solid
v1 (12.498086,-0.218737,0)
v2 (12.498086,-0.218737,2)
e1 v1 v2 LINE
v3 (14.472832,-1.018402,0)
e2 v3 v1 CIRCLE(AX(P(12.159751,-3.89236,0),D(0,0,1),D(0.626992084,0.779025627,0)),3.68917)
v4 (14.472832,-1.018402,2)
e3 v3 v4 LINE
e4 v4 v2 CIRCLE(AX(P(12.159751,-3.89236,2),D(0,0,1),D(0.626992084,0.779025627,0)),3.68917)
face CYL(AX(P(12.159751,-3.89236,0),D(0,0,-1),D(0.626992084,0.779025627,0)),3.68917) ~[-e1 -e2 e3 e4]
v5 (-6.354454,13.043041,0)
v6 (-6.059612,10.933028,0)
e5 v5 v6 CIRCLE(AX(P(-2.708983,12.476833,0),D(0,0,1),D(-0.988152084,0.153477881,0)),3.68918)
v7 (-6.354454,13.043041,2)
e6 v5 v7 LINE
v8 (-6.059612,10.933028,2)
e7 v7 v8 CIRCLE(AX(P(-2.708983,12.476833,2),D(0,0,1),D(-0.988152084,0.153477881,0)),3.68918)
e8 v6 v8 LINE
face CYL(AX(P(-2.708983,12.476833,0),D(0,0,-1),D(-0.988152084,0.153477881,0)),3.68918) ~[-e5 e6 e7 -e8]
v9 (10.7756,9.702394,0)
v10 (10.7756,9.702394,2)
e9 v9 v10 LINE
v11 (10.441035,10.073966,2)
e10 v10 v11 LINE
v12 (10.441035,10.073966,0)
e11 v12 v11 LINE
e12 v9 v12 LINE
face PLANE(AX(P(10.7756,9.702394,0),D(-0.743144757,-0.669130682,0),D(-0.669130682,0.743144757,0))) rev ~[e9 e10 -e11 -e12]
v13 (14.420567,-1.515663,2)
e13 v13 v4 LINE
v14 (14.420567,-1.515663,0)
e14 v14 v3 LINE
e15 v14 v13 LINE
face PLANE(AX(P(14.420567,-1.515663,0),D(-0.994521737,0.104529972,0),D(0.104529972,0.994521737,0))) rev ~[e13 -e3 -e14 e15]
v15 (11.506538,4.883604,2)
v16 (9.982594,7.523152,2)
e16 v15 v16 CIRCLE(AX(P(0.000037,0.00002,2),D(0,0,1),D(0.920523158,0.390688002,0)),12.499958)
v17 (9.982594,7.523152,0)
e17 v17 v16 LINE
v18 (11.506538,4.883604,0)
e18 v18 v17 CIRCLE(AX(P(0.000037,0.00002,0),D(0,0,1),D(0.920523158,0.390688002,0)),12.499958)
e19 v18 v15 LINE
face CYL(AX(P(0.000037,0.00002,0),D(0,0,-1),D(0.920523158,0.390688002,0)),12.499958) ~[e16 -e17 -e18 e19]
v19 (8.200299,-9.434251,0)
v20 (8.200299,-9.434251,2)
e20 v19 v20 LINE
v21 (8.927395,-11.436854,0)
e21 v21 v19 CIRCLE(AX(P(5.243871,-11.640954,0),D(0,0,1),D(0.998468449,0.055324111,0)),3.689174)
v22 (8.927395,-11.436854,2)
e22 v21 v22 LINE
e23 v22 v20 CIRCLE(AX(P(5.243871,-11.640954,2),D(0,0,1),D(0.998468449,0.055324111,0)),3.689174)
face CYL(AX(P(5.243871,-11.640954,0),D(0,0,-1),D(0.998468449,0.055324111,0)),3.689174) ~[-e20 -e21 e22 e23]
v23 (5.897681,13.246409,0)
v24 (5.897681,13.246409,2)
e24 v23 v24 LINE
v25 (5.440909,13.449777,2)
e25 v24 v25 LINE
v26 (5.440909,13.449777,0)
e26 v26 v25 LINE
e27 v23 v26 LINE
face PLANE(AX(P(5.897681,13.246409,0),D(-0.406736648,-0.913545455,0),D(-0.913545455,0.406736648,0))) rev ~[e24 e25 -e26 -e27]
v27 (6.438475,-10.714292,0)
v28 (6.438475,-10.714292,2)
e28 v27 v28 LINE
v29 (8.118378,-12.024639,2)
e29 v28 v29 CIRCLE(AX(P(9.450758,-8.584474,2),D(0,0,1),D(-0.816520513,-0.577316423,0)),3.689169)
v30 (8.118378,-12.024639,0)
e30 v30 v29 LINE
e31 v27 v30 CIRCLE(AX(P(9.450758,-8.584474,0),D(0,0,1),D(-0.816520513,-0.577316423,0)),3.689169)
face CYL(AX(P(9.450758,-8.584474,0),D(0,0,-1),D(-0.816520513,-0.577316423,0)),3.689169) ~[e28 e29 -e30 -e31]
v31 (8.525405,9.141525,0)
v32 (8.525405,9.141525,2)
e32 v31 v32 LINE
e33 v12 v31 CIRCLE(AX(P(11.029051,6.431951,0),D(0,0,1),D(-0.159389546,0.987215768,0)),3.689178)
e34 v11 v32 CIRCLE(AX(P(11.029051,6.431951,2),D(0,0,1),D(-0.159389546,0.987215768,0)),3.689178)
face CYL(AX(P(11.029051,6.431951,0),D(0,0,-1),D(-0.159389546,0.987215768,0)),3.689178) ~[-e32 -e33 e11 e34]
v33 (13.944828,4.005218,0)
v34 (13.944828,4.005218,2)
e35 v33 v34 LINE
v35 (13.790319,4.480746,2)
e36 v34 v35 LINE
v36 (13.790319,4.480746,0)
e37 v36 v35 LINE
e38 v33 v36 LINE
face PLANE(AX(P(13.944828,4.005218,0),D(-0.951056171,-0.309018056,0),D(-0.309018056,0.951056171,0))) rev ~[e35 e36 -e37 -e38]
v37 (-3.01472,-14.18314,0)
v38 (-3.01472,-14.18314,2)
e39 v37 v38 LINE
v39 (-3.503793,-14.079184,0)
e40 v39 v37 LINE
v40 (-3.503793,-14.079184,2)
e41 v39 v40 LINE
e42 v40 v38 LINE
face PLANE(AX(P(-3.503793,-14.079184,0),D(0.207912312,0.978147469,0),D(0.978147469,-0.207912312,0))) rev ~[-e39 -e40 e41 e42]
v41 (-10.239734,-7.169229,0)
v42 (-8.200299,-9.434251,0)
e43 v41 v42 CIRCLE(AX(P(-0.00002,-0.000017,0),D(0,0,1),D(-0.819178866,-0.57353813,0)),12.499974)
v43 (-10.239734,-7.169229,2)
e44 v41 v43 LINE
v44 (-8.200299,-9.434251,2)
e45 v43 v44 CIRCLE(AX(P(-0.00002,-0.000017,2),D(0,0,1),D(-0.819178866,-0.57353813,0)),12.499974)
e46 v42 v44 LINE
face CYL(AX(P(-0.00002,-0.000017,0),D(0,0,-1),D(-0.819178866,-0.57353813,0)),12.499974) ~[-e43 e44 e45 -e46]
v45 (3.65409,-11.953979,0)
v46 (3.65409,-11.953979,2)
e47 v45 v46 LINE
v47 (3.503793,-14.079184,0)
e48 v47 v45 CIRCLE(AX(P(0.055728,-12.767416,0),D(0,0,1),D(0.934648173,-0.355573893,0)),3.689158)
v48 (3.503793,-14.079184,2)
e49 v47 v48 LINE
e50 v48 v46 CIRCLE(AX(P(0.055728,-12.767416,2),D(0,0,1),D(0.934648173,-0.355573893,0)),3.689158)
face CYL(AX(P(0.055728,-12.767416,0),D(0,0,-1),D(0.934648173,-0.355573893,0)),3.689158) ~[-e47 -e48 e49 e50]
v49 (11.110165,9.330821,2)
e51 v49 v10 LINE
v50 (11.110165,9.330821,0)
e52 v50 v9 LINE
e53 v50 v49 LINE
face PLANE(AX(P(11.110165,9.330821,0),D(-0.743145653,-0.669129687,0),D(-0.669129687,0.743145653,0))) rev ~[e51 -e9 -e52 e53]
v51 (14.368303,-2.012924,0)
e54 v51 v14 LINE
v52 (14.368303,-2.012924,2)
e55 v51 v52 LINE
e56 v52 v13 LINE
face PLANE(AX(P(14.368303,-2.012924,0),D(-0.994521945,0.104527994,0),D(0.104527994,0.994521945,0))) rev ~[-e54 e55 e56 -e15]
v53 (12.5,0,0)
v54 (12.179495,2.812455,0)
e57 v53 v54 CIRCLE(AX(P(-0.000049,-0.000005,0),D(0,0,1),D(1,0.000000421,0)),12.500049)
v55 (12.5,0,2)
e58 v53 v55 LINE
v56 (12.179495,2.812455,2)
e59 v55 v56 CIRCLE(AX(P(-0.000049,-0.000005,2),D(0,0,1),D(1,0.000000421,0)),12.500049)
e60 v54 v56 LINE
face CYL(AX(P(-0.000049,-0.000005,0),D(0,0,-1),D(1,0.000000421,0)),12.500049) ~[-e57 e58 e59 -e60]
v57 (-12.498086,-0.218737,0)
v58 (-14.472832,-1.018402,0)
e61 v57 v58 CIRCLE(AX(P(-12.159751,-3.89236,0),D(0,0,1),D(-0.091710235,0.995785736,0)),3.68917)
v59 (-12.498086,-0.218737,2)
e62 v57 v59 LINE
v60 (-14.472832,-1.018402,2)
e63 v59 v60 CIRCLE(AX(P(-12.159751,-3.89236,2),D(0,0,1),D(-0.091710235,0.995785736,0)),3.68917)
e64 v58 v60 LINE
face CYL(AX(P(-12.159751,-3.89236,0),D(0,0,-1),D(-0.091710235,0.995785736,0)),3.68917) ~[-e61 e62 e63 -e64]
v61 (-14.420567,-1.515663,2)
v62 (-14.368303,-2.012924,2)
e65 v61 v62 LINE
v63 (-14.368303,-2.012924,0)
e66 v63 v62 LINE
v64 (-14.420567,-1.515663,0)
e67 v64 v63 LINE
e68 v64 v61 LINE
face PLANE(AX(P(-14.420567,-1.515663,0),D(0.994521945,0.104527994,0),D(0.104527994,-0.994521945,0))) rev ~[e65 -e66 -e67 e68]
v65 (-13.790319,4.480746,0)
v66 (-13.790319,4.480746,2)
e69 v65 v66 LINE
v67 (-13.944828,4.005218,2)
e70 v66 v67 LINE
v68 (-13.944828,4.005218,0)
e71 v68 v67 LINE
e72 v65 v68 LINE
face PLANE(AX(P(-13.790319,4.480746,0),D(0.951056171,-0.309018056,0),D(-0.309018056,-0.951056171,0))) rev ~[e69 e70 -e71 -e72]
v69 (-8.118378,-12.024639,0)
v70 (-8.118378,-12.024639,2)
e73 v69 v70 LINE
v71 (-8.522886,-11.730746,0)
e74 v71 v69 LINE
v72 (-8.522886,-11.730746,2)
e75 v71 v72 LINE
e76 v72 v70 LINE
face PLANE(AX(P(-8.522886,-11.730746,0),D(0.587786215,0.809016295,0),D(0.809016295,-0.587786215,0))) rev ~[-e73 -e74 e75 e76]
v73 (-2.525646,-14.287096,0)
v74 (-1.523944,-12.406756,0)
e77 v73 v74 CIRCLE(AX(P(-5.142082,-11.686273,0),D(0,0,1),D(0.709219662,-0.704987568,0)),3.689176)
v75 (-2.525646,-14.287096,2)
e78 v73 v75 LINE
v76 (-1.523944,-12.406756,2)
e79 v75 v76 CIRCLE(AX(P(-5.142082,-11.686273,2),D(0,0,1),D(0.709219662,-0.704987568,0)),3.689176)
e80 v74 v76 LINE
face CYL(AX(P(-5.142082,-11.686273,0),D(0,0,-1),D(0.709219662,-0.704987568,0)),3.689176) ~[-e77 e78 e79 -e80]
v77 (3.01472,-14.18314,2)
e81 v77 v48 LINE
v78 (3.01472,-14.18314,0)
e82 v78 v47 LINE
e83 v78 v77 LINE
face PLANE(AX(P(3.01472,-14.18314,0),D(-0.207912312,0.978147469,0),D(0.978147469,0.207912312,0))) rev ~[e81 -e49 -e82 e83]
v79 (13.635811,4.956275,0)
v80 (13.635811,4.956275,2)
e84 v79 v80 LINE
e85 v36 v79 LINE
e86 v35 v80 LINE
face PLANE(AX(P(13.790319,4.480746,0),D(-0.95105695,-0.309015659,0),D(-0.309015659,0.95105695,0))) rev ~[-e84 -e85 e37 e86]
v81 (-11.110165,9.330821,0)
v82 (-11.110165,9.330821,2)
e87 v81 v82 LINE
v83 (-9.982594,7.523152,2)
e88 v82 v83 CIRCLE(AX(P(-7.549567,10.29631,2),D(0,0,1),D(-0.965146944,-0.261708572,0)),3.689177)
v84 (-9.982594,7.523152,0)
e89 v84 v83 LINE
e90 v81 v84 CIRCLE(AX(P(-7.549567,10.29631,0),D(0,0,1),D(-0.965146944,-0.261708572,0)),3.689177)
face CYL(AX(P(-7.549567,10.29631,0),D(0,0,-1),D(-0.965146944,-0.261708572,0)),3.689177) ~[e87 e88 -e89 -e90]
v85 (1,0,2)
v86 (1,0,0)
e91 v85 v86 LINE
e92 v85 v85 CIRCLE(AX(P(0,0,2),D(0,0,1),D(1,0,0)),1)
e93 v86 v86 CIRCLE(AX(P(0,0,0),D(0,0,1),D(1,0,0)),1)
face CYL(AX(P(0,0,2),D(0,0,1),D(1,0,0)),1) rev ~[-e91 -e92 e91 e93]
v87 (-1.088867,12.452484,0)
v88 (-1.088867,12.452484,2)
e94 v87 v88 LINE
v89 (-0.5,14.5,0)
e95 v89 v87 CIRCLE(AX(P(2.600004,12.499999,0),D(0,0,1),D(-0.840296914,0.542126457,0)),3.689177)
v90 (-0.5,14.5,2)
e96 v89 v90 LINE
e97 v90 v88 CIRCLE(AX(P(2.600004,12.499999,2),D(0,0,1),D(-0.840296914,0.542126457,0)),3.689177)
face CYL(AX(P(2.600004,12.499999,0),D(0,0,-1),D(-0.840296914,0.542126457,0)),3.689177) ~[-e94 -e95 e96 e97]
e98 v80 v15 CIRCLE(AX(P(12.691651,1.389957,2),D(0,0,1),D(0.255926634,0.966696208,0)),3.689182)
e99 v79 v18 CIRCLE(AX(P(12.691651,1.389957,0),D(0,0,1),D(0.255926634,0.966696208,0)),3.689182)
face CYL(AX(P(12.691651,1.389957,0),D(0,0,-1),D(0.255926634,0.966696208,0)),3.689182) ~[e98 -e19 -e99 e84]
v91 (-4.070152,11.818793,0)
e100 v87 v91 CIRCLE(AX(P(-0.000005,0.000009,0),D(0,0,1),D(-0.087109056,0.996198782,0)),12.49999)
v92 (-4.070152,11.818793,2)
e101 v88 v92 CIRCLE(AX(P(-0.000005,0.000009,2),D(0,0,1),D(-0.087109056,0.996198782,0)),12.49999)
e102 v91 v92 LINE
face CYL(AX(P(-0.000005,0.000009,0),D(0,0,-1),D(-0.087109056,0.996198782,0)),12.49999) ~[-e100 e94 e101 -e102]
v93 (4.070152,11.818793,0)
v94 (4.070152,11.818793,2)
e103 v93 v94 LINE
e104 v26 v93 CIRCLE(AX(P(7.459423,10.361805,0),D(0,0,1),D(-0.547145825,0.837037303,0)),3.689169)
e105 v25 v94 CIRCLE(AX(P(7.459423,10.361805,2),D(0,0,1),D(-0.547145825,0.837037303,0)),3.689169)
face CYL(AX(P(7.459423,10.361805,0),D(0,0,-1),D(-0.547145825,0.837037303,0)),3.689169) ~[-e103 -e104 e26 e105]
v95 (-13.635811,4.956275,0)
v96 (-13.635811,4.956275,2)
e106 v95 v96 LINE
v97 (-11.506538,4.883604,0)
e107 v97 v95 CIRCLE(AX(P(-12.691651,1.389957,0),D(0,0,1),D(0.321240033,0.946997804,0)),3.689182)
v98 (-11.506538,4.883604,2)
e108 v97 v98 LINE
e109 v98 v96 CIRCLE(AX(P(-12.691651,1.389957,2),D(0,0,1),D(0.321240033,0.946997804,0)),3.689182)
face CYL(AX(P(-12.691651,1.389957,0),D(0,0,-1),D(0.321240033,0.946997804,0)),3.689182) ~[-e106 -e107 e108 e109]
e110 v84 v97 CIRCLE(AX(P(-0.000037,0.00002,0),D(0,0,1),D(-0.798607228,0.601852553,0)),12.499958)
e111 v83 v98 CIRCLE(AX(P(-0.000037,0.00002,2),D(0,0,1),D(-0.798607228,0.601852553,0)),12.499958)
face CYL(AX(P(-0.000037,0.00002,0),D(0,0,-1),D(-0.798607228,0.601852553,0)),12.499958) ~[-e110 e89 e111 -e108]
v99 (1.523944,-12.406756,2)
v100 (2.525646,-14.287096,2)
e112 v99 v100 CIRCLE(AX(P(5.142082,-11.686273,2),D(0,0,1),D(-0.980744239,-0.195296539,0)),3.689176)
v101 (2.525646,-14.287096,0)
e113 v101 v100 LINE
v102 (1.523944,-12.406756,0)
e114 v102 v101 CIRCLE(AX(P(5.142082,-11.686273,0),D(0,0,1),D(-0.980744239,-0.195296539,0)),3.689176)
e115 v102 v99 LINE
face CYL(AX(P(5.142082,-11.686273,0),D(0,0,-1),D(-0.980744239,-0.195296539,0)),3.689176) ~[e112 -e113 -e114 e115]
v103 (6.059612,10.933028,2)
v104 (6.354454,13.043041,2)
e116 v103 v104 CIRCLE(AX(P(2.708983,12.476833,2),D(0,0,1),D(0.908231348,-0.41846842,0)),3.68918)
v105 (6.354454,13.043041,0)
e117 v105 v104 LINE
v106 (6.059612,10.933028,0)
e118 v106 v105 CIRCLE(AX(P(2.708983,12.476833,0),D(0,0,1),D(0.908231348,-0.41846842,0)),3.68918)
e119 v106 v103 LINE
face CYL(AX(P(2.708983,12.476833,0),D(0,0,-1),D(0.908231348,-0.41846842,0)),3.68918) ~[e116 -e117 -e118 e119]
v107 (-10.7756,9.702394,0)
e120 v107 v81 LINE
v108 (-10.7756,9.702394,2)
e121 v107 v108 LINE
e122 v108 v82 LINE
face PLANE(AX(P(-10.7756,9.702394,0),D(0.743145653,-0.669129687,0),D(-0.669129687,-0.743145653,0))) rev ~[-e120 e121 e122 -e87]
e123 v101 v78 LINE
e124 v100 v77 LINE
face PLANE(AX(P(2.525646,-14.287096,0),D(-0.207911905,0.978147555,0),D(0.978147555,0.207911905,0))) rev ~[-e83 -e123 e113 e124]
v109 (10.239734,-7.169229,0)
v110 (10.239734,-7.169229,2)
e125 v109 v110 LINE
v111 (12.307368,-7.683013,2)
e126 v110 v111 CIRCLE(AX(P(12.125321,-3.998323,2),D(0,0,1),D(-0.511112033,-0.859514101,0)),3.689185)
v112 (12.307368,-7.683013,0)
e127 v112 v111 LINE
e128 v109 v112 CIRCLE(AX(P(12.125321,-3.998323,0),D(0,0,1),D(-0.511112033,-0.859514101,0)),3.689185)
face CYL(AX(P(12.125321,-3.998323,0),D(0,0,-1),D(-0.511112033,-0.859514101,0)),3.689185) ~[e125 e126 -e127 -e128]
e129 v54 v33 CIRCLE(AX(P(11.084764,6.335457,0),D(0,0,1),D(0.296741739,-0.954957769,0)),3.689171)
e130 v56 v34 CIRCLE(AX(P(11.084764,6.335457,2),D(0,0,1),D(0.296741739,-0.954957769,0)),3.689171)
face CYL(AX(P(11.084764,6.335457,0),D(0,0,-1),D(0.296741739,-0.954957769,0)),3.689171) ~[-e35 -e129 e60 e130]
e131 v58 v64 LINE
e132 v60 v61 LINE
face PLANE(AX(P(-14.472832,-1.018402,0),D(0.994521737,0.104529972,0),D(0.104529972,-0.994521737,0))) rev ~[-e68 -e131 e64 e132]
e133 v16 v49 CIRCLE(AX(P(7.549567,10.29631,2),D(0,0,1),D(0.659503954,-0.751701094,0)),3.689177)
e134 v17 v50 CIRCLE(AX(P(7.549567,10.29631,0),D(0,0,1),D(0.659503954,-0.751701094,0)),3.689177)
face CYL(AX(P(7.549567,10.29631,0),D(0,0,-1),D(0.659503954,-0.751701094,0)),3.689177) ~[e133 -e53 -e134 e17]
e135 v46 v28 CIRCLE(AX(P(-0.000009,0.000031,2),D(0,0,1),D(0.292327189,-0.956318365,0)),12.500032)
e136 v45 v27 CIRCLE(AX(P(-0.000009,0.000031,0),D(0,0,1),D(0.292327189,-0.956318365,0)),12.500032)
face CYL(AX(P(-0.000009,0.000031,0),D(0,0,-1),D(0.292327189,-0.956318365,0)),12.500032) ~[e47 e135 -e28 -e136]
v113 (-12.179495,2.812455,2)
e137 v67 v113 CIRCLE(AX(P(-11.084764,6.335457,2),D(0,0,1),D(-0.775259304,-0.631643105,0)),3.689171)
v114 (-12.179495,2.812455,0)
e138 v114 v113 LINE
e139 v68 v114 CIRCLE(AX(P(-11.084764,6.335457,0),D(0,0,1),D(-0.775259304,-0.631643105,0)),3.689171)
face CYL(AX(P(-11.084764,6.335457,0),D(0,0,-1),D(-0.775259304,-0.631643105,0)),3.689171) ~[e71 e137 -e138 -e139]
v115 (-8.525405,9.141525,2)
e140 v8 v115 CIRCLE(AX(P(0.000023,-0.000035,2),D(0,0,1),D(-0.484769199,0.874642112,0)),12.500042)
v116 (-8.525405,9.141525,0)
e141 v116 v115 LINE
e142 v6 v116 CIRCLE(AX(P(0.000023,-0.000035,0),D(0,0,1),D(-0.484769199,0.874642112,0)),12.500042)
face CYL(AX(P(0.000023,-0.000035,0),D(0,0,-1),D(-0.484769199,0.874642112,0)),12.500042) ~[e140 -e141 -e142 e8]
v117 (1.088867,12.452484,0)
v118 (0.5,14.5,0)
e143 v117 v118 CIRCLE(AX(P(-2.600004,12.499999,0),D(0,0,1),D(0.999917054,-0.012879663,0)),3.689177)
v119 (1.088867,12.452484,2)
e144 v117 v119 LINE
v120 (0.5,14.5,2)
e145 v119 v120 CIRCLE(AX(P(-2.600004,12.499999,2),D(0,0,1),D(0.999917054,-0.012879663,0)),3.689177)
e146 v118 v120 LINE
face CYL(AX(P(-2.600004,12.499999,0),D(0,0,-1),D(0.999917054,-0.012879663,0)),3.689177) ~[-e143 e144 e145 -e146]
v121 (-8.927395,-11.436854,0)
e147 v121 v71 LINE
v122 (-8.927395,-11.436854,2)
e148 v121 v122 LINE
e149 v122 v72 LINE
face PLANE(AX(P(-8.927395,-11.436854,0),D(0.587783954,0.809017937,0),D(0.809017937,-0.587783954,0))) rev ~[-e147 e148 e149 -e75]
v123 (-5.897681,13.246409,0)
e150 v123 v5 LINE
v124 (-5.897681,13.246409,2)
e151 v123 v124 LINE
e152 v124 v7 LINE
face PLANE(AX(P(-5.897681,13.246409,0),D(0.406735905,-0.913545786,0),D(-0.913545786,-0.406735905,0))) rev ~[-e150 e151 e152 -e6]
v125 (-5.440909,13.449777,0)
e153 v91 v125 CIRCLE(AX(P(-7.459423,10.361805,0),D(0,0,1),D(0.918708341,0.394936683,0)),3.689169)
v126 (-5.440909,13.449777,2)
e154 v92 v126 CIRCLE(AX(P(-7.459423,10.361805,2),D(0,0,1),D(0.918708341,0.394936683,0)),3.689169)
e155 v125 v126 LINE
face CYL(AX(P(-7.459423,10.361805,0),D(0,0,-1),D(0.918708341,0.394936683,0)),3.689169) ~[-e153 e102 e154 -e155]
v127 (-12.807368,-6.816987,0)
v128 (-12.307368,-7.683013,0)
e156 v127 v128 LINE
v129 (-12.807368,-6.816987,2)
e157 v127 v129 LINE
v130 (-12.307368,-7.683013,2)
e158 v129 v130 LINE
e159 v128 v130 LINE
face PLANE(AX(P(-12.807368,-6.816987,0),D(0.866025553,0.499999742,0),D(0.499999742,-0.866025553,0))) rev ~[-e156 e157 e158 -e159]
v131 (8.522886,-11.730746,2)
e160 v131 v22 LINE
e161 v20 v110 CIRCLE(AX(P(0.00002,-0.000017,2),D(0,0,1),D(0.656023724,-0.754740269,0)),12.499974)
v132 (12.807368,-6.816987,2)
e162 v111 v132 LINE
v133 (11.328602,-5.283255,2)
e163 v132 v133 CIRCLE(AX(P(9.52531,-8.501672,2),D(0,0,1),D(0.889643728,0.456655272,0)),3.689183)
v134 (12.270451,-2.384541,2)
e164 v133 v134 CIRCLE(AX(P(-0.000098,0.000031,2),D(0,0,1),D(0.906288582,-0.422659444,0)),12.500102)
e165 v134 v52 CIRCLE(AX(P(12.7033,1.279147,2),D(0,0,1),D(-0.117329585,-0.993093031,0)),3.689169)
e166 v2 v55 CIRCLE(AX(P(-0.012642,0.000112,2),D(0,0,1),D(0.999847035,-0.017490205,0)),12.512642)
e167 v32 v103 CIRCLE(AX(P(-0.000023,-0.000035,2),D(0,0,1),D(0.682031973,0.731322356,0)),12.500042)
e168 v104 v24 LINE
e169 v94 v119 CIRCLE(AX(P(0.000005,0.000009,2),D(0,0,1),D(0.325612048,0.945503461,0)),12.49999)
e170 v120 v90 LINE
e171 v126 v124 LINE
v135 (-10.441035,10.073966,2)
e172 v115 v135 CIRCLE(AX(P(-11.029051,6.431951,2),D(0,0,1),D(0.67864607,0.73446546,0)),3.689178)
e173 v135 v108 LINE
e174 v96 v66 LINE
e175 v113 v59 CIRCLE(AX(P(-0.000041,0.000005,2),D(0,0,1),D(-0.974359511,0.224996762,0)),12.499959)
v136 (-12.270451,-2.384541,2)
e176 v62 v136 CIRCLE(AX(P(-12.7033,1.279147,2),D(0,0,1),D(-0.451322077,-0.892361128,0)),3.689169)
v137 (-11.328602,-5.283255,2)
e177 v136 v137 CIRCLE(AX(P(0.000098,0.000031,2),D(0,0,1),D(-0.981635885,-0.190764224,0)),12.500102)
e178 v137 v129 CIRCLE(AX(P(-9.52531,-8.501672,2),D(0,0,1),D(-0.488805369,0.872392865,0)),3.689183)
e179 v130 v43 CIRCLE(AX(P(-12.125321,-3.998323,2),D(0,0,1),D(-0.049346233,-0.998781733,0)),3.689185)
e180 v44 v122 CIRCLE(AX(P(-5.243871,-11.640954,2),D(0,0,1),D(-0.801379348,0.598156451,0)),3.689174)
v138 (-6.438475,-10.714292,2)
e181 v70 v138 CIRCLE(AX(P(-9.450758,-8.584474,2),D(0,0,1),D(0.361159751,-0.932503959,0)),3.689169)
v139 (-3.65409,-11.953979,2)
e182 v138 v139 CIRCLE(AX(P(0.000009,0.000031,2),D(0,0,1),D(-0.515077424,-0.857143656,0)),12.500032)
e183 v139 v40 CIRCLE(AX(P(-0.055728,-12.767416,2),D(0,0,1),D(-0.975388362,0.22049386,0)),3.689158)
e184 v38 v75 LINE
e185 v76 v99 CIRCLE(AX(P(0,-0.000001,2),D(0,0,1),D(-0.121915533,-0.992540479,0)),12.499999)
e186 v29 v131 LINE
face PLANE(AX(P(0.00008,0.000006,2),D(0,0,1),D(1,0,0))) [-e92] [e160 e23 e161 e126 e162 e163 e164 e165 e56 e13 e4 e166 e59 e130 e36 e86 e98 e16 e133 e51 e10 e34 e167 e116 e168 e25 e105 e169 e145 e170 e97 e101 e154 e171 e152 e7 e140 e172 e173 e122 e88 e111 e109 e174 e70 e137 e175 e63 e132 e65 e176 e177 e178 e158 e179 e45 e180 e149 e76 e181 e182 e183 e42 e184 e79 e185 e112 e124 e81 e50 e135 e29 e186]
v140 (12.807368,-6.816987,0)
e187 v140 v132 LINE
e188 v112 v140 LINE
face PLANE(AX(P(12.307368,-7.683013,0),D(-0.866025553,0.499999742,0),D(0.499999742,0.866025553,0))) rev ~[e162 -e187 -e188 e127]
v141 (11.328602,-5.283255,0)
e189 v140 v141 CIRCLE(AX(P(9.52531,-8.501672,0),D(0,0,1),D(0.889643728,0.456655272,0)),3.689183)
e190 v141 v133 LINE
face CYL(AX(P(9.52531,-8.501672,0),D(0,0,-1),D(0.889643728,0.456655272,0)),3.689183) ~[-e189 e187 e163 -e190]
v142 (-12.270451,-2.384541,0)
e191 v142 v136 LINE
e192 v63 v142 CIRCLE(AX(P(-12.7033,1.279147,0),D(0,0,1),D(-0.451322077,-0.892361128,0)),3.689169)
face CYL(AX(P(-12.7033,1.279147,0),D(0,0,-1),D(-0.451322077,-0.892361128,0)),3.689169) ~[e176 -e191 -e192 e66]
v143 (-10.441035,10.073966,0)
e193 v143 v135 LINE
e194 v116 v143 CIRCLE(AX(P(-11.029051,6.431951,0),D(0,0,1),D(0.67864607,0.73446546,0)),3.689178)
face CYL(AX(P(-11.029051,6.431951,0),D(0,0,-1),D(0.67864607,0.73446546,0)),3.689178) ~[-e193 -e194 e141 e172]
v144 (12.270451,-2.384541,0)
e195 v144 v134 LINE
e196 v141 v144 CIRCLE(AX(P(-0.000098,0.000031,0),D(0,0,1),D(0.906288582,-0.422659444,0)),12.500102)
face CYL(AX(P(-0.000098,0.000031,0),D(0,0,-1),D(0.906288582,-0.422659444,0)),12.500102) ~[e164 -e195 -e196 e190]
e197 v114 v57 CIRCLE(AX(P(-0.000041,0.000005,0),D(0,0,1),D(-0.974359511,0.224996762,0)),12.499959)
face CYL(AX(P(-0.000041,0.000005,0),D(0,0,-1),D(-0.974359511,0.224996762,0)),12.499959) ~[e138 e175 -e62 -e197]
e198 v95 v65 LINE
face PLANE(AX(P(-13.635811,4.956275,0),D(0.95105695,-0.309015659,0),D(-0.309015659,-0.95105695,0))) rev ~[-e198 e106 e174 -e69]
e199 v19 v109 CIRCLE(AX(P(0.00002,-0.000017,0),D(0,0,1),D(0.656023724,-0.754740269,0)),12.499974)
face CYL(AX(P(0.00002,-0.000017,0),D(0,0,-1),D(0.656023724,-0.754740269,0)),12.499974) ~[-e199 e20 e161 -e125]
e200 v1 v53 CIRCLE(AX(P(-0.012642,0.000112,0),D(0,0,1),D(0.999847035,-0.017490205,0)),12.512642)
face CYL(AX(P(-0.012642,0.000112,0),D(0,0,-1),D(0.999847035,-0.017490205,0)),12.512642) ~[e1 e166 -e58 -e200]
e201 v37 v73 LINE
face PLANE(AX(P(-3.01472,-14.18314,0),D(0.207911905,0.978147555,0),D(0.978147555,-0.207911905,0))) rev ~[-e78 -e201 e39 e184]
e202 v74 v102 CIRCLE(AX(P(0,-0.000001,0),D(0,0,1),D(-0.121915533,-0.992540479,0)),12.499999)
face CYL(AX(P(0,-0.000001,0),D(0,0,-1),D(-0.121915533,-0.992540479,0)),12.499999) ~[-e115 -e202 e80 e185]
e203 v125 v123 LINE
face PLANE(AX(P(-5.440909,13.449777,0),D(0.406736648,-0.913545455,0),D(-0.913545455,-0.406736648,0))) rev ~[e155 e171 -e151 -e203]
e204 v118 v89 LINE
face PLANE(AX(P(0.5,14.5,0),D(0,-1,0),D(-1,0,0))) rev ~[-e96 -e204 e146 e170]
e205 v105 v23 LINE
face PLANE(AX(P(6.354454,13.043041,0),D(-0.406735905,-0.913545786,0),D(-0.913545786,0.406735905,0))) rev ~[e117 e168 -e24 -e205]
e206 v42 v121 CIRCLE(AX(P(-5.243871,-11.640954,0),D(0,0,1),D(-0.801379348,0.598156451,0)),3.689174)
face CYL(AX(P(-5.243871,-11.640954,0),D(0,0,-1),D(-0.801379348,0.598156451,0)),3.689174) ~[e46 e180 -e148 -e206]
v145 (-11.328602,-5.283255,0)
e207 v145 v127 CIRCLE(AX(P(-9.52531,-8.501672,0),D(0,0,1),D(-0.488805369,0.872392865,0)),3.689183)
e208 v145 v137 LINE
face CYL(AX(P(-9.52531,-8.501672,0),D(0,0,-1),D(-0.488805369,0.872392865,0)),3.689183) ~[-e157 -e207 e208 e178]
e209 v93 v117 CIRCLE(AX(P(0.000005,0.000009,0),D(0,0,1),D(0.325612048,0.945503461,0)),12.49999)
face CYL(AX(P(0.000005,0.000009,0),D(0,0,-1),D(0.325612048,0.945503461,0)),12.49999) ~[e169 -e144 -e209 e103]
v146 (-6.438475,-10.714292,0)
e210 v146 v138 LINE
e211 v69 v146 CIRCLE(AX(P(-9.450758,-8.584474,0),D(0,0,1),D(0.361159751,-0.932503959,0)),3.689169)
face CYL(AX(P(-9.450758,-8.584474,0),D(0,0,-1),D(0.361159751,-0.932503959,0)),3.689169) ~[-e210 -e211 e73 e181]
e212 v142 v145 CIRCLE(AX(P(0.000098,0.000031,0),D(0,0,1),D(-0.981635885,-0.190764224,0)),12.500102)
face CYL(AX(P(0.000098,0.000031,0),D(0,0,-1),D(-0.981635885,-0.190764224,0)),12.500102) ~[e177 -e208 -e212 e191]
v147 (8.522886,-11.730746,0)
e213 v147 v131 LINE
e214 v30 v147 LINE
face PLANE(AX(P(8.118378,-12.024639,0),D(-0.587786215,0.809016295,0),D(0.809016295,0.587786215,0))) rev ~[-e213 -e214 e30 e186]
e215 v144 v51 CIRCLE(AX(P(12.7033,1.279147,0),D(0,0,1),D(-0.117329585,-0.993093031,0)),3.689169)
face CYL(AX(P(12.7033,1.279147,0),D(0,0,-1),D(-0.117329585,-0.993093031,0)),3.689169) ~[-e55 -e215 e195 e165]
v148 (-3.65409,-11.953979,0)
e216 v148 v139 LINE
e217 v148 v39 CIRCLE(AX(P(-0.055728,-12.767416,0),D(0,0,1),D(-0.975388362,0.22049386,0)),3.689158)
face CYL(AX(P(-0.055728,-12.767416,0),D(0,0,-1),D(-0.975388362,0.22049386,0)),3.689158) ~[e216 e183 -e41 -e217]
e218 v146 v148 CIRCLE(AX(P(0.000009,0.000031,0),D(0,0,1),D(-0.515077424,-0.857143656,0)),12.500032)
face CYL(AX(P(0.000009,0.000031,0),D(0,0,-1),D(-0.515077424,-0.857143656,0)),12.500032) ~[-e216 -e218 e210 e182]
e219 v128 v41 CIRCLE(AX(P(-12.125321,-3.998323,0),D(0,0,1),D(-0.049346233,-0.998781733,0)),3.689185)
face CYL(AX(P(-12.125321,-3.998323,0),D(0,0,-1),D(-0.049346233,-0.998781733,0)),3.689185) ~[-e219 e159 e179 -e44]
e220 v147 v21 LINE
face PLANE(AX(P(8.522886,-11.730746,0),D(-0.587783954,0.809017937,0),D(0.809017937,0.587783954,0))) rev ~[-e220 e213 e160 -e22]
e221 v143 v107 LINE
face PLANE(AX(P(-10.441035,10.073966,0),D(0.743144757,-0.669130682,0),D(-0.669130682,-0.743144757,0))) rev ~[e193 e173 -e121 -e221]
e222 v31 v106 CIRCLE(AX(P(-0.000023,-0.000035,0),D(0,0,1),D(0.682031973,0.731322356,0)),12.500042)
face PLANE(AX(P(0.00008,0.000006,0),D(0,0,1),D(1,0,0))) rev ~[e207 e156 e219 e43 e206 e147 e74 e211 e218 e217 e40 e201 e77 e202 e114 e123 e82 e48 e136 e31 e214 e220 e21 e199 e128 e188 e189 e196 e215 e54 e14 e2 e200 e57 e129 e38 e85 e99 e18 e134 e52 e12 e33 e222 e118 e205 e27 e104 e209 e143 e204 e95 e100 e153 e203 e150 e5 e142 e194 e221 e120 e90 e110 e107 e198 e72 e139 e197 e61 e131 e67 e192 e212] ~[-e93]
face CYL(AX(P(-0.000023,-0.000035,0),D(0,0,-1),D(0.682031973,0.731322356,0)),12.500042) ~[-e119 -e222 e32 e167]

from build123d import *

# Parameters (mm, degrees)
F1_DEPTH = 2
F2_R     = 1
F3_DEPTH = 2.001


with BuildPart() as f1:
    # F0 (on Top) → F1 (new body)
    with BuildSketch(Plane.XY):
        with BuildLine():
            ThreePointArc((12.498086, -0.218737), (12.499521, -0.109373), (12.5, 0))
            ThreePointArc((12.5, 0), (12.419615, 1.415329), (12.179495, 2.812455))
            ThreePointArc((12.179495, 2.812455), (11.888206, 3.862712), (11.506538, 4.883604))
            ThreePointArc((11.506538, 4.883604), (10.825318, 6.25), (9.982594, 7.523152))
            ThreePointArc((9.982594, 7.523152), (9.28931, 8.364133), (8.525405, 9.141525))
            ThreePointArc((8.525405, 9.141525), (7.347316, 10.112712), (6.059612, 10.933028))
            ThreePointArc((6.059612, 10.933028), (5.084208, 11.419318), (4.070152, 11.818793))
            ThreePointArc((4.070152, 11.818793), (2.598896, 12.226845), (1.088867, 12.452484))
            ThreePointArc((1.088867, 12.452484), (0, 12.5), (-1.088867, 12.452484))
            ThreePointArc((-1.088867, 12.452484), (-2.598896, 12.226845), (-4.070152, 11.818793))
            ThreePointArc((-4.070152, 11.818793), (-5.084208, 11.419318), (-6.059612, 10.933028))
            ThreePointArc((-6.059612, 10.933028), (-7.347316, 10.112712), (-8.525405, 9.141525))
            ThreePointArc((-8.525405, 9.141525), (-9.28931, 8.364133), (-9.982594, 7.523152))
            ThreePointArc((-9.982594, 7.523152), (-10.825318, 6.25), (-11.506538, 4.883604))
            ThreePointArc((-11.506538, 4.883604), (-11.888206, 3.862712), (-12.179495, 2.812455))
            ThreePointArc((-12.179495, 2.812455), (-12.431524, 1.306606), (-12.498086, -0.218737))
            ThreePointArc((-12.498086, -0.218737), (-12.431524, -1.306606), (-12.270451, -2.384541))
            ThreePointArc((-12.270451, -2.384541), (-11.888206, -3.862712), (-11.328602, -5.283255))
            ThreePointArc((-11.328602, -5.283255), (-10.825318, -6.25), (-10.239734, -7.169229))
            ThreePointArc((-10.239734, -7.169229), (-9.28931, -8.364133), (-8.200299, -9.434251))
            ThreePointArc((-8.200299, -9.434251), (-7.347316, -10.112712), (-6.438475, -10.714292))
            ThreePointArc((-6.438475, -10.714292), (-5.084208, -11.419318), (-3.65409, -11.953979))
            ThreePointArc((-3.65409, -11.953979), (-2.598896, -12.226845), (-1.523944, -12.406756))
            ThreePointArc((-1.523944, -12.406756), (0, -12.5), (1.523944, -12.406756))
            ThreePointArc((1.523944, -12.406756), (2.598896, -12.226845), (3.65409, -11.953979))
            ThreePointArc((3.65409, -11.953979), (5.084208, -11.419318), (6.438475, -10.714292))
            ThreePointArc((6.438475, -10.714292), (7.347316, -10.112712), (8.200299, -9.434251))
            ThreePointArc((8.200299, -9.434251), (9.28931, -8.364133), (10.239734, -7.169229))
            ThreePointArc((10.239734, -7.169229), (10.825318, -6.25), (11.328602, -5.283255))
            ThreePointArc((11.328602, -5.283255), (11.888206, -3.862712), (12.270451, -2.384541))
            ThreePointArc((12.270451, -2.384541), (12.431524, -1.306606), (12.498086, -0.218737))
        make_face()
        with BuildLine():
            ThreePointArc((11.506538, 4.883604), (11.888206, 3.862712), (12.179495, 2.812455))
            ThreePointArc((12.179495, 2.812455), (13.150138, 3.278627), (13.944828, 4.005218))
            Line((13.944828, 4.005218), (13.790319, 4.480746))
            Line((13.790319, 4.480746), (13.635811, 4.956275))
            ThreePointArc((13.635811, 4.956275), (12.565814, 5.076992), (11.506538, 4.883604))
        make_face()
        with BuildLine():
            ThreePointArc((14.472832, -1.018402), (13.544441, -0.472914), (12.498086, -0.218737))
            ThreePointArc((12.498086, -0.218737), (12.431524, -1.306606), (12.270451, -2.384541))
            ThreePointArc((12.270451, -2.384541), (13.346787, -2.353468), (14.368303, -2.012924))
            Line((14.368303, -2.012924), (14.420567, -1.515663))
            Line((14.420567, -1.515663), (14.472832, -1.018402))
        make_face()
        with BuildLine():
            ThreePointArc((8.525405, 9.141525), (9.28931, 8.364133), (9.982594, 7.523152))
            ThreePointArc((9.982594, 7.523152), (10.679711, 8.343818), (11.110165, 9.330821))
            Line((11.110165, 9.330821), (10.7756, 9.702394))
            Line((10.7756, 9.702394), (10.441035, 10.073966))
            ThreePointArc((10.441035, 10.073966), (9.414444, 9.74904), (8.525405, 9.141525))
        make_face()
        with BuildLine():
            ThreePointArc((12.807368, -6.816987), (12.181111, -5.941049), (11.328602, -5.283255))
            ThreePointArc((11.328602, -5.283255), (10.825318, -6.25), (10.239734, -7.169229))
            ThreePointArc((10.239734, -7.169229), (11.235655, -7.578627), (12.307368, -7.683013))
            Line((12.307368, -7.683013), (12.557368, -7.25))
            Line((12.557368, -7.25), (12.807368, -6.816987))
        make_face()
        with BuildLine():
            ThreePointArc((4.070152, 11.818793), (5.084208, 11.419318), (6.059612, 10.933028))
            ThreePointArc((6.059612, 10.933028), (6.362665, 11.966287), (6.354454, 13.043041))
            Line((6.354454, 13.043041), (5.897681, 13.246409))
            Line((5.897681, 13.246409), (5.440909, 13.449777))
            ThreePointArc((5.440909, 13.449777), (4.635231, 12.735391), (4.070152, 11.818793))
        make_face()
        with BuildLine():
            ThreePointArc((8.927395, -11.436854), (8.711557, -10.381923), (8.200299, -9.434251))
            ThreePointArc((8.200299, -9.434251), (7.347316, -10.112712), (6.438475, -10.714292))
            ThreePointArc((6.438475, -10.714292), (7.181776, -11.493373), (8.118378, -12.024639))
            Line((8.118378, -12.024639), (8.522886, -11.730746))
            Line((8.522886, -11.730746), (8.927395, -11.436854))
        make_face()
        with BuildLine():
            ThreePointArc((-1.088867, 12.452484), (0, 12.5), (1.088867, 12.452484))
            ThreePointArc((1.088867, 12.452484), (0.945456, 13.519676), (0.5, 14.5))
            Line((0.5, 14.5), (0, 14.5))
            Line((0, 14.5), (-0.5, 14.5))
            ThreePointArc((-0.5, 14.5), (-0.945456, 13.519676), (-1.088867, 12.452484))
        make_face()
        with BuildLine():
            ThreePointArc((3.503793, -14.079184), (3.735695, -13.027668), (3.65409, -11.953979))
            ThreePointArc((3.65409, -11.953979), (2.598896, -12.226845), (1.523944, -12.406756))
            ThreePointArc((1.523944, -12.406756), (1.886103, -13.42081), (2.525646, -14.287096))
            Line((2.525646, -14.287096), (3.01472, -14.18314))
            Line((3.01472, -14.18314), (3.503793, -14.079184))
        make_face()
        with BuildLine():
            ThreePointArc((-6.059612, 10.933028), (-5.084208, 11.419318), (-4.070152, 11.818793))
            ThreePointArc((-4.070152, 11.818793), (-4.635231, 12.735391), (-5.440909, 13.449777))
            Line((-5.440909, 13.449777), (-5.897681, 13.246409))
            Line((-5.897681, 13.246409), (-6.354454, 13.043041))
            ThreePointArc((-6.354454, 13.043041), (-6.362665, 11.966287), (-6.059612, 10.933028))
        make_face()
        with BuildLine():
            ThreePointArc((-2.525646, -14.287096), (-1.886103, -13.42081), (-1.523944, -12.406756))
            ThreePointArc((-1.523944, -12.406756), (-2.598896, -12.226845), (-3.65409, -11.953979))
            ThreePointArc((-3.65409, -11.953979), (-3.735695, -13.027668), (-3.503793, -14.079184))
            Line((-3.503793, -14.079184), (-3.01472, -14.18314))
            Line((-3.01472, -14.18314), (-2.525646, -14.287096))
        make_face()
        with BuildLine():
            ThreePointArc((-9.982594, 7.523152), (-9.28931, 8.364133), (-8.525405, 9.141525))
            ThreePointArc((-8.525405, 9.141525), (-9.414444, 9.74904), (-10.441035, 10.073966))
            Line((-10.441035, 10.073966), (-10.7756, 9.702394))
            Line((-10.7756, 9.702394), (-11.110165, 9.330821))
            ThreePointArc((-11.110165, 9.330821), (-10.679711, 8.343818), (-9.982594, 7.523152))
        make_face()
        with BuildLine():
            ThreePointArc((-8.118378, -12.024639), (-7.181776, -11.493373), (-6.438475, -10.714292))
            ThreePointArc((-6.438475, -10.714292), (-7.347316, -10.112712), (-8.200299, -9.434251))
            ThreePointArc((-8.200299, -9.434251), (-8.711557, -10.381923), (-8.927395, -11.436854))
            Line((-8.927395, -11.436854), (-8.522886, -11.730746))
            Line((-8.522886, -11.730746), (-8.118378, -12.024639))
        make_face()
        with BuildLine():
            ThreePointArc((-12.179495, 2.812455), (-11.888206, 3.862712), (-11.506538, 4.883604))
            ThreePointArc((-11.506538, 4.883604), (-12.565814, 5.076992), (-13.635811, 4.956275))
            Line((-13.635811, 4.956275), (-13.790319, 4.480746))
            Line((-13.790319, 4.480746), (-13.944828, 4.005218))
            ThreePointArc((-13.944828, 4.005218), (-13.150138, 3.278627), (-12.179495, 2.812455))
        make_face()
        with BuildLine():
            ThreePointArc((-12.307368, -7.683013), (-11.235655, -7.578627), (-10.239734, -7.169229))
            ThreePointArc((-10.239734, -7.169229), (-10.825318, -6.25), (-11.328602, -5.283255))
            ThreePointArc((-11.328602, -5.283255), (-12.181111, -5.941049), (-12.807368, -6.816987))
            Line((-12.807368, -6.816987), (-12.557368, -7.25))
            Line((-12.557368, -7.25), (-12.307368, -7.683013))
        make_face()
        with BuildLine():
            ThreePointArc((-12.270451, -2.384541), (-12.431524, -1.306606), (-12.498086, -0.218737))
            ThreePointArc((-12.498086, -0.218737), (-13.544441, -0.472914), (-14.472832, -1.018402))
            Line((-14.472832, -1.018402), (-14.420567, -1.515663))
            Line((-14.420567, -1.515663), (-14.368303, -2.012924))
            ThreePointArc((-14.368303, -2.012924), (-13.346787, -2.353468), (-12.270451, -2.384541))
        make_face()
    extrude(amount=F1_DEPTH)

    # F2 (on face) → F3 (cut, through all)
    with BuildSketch(Plane.XY.offset(2)):
        Circle(F2_R)
    extrude(amount=-F3_DEPTH, mode=Mode.SUBTRACT)


solid = f1.part
